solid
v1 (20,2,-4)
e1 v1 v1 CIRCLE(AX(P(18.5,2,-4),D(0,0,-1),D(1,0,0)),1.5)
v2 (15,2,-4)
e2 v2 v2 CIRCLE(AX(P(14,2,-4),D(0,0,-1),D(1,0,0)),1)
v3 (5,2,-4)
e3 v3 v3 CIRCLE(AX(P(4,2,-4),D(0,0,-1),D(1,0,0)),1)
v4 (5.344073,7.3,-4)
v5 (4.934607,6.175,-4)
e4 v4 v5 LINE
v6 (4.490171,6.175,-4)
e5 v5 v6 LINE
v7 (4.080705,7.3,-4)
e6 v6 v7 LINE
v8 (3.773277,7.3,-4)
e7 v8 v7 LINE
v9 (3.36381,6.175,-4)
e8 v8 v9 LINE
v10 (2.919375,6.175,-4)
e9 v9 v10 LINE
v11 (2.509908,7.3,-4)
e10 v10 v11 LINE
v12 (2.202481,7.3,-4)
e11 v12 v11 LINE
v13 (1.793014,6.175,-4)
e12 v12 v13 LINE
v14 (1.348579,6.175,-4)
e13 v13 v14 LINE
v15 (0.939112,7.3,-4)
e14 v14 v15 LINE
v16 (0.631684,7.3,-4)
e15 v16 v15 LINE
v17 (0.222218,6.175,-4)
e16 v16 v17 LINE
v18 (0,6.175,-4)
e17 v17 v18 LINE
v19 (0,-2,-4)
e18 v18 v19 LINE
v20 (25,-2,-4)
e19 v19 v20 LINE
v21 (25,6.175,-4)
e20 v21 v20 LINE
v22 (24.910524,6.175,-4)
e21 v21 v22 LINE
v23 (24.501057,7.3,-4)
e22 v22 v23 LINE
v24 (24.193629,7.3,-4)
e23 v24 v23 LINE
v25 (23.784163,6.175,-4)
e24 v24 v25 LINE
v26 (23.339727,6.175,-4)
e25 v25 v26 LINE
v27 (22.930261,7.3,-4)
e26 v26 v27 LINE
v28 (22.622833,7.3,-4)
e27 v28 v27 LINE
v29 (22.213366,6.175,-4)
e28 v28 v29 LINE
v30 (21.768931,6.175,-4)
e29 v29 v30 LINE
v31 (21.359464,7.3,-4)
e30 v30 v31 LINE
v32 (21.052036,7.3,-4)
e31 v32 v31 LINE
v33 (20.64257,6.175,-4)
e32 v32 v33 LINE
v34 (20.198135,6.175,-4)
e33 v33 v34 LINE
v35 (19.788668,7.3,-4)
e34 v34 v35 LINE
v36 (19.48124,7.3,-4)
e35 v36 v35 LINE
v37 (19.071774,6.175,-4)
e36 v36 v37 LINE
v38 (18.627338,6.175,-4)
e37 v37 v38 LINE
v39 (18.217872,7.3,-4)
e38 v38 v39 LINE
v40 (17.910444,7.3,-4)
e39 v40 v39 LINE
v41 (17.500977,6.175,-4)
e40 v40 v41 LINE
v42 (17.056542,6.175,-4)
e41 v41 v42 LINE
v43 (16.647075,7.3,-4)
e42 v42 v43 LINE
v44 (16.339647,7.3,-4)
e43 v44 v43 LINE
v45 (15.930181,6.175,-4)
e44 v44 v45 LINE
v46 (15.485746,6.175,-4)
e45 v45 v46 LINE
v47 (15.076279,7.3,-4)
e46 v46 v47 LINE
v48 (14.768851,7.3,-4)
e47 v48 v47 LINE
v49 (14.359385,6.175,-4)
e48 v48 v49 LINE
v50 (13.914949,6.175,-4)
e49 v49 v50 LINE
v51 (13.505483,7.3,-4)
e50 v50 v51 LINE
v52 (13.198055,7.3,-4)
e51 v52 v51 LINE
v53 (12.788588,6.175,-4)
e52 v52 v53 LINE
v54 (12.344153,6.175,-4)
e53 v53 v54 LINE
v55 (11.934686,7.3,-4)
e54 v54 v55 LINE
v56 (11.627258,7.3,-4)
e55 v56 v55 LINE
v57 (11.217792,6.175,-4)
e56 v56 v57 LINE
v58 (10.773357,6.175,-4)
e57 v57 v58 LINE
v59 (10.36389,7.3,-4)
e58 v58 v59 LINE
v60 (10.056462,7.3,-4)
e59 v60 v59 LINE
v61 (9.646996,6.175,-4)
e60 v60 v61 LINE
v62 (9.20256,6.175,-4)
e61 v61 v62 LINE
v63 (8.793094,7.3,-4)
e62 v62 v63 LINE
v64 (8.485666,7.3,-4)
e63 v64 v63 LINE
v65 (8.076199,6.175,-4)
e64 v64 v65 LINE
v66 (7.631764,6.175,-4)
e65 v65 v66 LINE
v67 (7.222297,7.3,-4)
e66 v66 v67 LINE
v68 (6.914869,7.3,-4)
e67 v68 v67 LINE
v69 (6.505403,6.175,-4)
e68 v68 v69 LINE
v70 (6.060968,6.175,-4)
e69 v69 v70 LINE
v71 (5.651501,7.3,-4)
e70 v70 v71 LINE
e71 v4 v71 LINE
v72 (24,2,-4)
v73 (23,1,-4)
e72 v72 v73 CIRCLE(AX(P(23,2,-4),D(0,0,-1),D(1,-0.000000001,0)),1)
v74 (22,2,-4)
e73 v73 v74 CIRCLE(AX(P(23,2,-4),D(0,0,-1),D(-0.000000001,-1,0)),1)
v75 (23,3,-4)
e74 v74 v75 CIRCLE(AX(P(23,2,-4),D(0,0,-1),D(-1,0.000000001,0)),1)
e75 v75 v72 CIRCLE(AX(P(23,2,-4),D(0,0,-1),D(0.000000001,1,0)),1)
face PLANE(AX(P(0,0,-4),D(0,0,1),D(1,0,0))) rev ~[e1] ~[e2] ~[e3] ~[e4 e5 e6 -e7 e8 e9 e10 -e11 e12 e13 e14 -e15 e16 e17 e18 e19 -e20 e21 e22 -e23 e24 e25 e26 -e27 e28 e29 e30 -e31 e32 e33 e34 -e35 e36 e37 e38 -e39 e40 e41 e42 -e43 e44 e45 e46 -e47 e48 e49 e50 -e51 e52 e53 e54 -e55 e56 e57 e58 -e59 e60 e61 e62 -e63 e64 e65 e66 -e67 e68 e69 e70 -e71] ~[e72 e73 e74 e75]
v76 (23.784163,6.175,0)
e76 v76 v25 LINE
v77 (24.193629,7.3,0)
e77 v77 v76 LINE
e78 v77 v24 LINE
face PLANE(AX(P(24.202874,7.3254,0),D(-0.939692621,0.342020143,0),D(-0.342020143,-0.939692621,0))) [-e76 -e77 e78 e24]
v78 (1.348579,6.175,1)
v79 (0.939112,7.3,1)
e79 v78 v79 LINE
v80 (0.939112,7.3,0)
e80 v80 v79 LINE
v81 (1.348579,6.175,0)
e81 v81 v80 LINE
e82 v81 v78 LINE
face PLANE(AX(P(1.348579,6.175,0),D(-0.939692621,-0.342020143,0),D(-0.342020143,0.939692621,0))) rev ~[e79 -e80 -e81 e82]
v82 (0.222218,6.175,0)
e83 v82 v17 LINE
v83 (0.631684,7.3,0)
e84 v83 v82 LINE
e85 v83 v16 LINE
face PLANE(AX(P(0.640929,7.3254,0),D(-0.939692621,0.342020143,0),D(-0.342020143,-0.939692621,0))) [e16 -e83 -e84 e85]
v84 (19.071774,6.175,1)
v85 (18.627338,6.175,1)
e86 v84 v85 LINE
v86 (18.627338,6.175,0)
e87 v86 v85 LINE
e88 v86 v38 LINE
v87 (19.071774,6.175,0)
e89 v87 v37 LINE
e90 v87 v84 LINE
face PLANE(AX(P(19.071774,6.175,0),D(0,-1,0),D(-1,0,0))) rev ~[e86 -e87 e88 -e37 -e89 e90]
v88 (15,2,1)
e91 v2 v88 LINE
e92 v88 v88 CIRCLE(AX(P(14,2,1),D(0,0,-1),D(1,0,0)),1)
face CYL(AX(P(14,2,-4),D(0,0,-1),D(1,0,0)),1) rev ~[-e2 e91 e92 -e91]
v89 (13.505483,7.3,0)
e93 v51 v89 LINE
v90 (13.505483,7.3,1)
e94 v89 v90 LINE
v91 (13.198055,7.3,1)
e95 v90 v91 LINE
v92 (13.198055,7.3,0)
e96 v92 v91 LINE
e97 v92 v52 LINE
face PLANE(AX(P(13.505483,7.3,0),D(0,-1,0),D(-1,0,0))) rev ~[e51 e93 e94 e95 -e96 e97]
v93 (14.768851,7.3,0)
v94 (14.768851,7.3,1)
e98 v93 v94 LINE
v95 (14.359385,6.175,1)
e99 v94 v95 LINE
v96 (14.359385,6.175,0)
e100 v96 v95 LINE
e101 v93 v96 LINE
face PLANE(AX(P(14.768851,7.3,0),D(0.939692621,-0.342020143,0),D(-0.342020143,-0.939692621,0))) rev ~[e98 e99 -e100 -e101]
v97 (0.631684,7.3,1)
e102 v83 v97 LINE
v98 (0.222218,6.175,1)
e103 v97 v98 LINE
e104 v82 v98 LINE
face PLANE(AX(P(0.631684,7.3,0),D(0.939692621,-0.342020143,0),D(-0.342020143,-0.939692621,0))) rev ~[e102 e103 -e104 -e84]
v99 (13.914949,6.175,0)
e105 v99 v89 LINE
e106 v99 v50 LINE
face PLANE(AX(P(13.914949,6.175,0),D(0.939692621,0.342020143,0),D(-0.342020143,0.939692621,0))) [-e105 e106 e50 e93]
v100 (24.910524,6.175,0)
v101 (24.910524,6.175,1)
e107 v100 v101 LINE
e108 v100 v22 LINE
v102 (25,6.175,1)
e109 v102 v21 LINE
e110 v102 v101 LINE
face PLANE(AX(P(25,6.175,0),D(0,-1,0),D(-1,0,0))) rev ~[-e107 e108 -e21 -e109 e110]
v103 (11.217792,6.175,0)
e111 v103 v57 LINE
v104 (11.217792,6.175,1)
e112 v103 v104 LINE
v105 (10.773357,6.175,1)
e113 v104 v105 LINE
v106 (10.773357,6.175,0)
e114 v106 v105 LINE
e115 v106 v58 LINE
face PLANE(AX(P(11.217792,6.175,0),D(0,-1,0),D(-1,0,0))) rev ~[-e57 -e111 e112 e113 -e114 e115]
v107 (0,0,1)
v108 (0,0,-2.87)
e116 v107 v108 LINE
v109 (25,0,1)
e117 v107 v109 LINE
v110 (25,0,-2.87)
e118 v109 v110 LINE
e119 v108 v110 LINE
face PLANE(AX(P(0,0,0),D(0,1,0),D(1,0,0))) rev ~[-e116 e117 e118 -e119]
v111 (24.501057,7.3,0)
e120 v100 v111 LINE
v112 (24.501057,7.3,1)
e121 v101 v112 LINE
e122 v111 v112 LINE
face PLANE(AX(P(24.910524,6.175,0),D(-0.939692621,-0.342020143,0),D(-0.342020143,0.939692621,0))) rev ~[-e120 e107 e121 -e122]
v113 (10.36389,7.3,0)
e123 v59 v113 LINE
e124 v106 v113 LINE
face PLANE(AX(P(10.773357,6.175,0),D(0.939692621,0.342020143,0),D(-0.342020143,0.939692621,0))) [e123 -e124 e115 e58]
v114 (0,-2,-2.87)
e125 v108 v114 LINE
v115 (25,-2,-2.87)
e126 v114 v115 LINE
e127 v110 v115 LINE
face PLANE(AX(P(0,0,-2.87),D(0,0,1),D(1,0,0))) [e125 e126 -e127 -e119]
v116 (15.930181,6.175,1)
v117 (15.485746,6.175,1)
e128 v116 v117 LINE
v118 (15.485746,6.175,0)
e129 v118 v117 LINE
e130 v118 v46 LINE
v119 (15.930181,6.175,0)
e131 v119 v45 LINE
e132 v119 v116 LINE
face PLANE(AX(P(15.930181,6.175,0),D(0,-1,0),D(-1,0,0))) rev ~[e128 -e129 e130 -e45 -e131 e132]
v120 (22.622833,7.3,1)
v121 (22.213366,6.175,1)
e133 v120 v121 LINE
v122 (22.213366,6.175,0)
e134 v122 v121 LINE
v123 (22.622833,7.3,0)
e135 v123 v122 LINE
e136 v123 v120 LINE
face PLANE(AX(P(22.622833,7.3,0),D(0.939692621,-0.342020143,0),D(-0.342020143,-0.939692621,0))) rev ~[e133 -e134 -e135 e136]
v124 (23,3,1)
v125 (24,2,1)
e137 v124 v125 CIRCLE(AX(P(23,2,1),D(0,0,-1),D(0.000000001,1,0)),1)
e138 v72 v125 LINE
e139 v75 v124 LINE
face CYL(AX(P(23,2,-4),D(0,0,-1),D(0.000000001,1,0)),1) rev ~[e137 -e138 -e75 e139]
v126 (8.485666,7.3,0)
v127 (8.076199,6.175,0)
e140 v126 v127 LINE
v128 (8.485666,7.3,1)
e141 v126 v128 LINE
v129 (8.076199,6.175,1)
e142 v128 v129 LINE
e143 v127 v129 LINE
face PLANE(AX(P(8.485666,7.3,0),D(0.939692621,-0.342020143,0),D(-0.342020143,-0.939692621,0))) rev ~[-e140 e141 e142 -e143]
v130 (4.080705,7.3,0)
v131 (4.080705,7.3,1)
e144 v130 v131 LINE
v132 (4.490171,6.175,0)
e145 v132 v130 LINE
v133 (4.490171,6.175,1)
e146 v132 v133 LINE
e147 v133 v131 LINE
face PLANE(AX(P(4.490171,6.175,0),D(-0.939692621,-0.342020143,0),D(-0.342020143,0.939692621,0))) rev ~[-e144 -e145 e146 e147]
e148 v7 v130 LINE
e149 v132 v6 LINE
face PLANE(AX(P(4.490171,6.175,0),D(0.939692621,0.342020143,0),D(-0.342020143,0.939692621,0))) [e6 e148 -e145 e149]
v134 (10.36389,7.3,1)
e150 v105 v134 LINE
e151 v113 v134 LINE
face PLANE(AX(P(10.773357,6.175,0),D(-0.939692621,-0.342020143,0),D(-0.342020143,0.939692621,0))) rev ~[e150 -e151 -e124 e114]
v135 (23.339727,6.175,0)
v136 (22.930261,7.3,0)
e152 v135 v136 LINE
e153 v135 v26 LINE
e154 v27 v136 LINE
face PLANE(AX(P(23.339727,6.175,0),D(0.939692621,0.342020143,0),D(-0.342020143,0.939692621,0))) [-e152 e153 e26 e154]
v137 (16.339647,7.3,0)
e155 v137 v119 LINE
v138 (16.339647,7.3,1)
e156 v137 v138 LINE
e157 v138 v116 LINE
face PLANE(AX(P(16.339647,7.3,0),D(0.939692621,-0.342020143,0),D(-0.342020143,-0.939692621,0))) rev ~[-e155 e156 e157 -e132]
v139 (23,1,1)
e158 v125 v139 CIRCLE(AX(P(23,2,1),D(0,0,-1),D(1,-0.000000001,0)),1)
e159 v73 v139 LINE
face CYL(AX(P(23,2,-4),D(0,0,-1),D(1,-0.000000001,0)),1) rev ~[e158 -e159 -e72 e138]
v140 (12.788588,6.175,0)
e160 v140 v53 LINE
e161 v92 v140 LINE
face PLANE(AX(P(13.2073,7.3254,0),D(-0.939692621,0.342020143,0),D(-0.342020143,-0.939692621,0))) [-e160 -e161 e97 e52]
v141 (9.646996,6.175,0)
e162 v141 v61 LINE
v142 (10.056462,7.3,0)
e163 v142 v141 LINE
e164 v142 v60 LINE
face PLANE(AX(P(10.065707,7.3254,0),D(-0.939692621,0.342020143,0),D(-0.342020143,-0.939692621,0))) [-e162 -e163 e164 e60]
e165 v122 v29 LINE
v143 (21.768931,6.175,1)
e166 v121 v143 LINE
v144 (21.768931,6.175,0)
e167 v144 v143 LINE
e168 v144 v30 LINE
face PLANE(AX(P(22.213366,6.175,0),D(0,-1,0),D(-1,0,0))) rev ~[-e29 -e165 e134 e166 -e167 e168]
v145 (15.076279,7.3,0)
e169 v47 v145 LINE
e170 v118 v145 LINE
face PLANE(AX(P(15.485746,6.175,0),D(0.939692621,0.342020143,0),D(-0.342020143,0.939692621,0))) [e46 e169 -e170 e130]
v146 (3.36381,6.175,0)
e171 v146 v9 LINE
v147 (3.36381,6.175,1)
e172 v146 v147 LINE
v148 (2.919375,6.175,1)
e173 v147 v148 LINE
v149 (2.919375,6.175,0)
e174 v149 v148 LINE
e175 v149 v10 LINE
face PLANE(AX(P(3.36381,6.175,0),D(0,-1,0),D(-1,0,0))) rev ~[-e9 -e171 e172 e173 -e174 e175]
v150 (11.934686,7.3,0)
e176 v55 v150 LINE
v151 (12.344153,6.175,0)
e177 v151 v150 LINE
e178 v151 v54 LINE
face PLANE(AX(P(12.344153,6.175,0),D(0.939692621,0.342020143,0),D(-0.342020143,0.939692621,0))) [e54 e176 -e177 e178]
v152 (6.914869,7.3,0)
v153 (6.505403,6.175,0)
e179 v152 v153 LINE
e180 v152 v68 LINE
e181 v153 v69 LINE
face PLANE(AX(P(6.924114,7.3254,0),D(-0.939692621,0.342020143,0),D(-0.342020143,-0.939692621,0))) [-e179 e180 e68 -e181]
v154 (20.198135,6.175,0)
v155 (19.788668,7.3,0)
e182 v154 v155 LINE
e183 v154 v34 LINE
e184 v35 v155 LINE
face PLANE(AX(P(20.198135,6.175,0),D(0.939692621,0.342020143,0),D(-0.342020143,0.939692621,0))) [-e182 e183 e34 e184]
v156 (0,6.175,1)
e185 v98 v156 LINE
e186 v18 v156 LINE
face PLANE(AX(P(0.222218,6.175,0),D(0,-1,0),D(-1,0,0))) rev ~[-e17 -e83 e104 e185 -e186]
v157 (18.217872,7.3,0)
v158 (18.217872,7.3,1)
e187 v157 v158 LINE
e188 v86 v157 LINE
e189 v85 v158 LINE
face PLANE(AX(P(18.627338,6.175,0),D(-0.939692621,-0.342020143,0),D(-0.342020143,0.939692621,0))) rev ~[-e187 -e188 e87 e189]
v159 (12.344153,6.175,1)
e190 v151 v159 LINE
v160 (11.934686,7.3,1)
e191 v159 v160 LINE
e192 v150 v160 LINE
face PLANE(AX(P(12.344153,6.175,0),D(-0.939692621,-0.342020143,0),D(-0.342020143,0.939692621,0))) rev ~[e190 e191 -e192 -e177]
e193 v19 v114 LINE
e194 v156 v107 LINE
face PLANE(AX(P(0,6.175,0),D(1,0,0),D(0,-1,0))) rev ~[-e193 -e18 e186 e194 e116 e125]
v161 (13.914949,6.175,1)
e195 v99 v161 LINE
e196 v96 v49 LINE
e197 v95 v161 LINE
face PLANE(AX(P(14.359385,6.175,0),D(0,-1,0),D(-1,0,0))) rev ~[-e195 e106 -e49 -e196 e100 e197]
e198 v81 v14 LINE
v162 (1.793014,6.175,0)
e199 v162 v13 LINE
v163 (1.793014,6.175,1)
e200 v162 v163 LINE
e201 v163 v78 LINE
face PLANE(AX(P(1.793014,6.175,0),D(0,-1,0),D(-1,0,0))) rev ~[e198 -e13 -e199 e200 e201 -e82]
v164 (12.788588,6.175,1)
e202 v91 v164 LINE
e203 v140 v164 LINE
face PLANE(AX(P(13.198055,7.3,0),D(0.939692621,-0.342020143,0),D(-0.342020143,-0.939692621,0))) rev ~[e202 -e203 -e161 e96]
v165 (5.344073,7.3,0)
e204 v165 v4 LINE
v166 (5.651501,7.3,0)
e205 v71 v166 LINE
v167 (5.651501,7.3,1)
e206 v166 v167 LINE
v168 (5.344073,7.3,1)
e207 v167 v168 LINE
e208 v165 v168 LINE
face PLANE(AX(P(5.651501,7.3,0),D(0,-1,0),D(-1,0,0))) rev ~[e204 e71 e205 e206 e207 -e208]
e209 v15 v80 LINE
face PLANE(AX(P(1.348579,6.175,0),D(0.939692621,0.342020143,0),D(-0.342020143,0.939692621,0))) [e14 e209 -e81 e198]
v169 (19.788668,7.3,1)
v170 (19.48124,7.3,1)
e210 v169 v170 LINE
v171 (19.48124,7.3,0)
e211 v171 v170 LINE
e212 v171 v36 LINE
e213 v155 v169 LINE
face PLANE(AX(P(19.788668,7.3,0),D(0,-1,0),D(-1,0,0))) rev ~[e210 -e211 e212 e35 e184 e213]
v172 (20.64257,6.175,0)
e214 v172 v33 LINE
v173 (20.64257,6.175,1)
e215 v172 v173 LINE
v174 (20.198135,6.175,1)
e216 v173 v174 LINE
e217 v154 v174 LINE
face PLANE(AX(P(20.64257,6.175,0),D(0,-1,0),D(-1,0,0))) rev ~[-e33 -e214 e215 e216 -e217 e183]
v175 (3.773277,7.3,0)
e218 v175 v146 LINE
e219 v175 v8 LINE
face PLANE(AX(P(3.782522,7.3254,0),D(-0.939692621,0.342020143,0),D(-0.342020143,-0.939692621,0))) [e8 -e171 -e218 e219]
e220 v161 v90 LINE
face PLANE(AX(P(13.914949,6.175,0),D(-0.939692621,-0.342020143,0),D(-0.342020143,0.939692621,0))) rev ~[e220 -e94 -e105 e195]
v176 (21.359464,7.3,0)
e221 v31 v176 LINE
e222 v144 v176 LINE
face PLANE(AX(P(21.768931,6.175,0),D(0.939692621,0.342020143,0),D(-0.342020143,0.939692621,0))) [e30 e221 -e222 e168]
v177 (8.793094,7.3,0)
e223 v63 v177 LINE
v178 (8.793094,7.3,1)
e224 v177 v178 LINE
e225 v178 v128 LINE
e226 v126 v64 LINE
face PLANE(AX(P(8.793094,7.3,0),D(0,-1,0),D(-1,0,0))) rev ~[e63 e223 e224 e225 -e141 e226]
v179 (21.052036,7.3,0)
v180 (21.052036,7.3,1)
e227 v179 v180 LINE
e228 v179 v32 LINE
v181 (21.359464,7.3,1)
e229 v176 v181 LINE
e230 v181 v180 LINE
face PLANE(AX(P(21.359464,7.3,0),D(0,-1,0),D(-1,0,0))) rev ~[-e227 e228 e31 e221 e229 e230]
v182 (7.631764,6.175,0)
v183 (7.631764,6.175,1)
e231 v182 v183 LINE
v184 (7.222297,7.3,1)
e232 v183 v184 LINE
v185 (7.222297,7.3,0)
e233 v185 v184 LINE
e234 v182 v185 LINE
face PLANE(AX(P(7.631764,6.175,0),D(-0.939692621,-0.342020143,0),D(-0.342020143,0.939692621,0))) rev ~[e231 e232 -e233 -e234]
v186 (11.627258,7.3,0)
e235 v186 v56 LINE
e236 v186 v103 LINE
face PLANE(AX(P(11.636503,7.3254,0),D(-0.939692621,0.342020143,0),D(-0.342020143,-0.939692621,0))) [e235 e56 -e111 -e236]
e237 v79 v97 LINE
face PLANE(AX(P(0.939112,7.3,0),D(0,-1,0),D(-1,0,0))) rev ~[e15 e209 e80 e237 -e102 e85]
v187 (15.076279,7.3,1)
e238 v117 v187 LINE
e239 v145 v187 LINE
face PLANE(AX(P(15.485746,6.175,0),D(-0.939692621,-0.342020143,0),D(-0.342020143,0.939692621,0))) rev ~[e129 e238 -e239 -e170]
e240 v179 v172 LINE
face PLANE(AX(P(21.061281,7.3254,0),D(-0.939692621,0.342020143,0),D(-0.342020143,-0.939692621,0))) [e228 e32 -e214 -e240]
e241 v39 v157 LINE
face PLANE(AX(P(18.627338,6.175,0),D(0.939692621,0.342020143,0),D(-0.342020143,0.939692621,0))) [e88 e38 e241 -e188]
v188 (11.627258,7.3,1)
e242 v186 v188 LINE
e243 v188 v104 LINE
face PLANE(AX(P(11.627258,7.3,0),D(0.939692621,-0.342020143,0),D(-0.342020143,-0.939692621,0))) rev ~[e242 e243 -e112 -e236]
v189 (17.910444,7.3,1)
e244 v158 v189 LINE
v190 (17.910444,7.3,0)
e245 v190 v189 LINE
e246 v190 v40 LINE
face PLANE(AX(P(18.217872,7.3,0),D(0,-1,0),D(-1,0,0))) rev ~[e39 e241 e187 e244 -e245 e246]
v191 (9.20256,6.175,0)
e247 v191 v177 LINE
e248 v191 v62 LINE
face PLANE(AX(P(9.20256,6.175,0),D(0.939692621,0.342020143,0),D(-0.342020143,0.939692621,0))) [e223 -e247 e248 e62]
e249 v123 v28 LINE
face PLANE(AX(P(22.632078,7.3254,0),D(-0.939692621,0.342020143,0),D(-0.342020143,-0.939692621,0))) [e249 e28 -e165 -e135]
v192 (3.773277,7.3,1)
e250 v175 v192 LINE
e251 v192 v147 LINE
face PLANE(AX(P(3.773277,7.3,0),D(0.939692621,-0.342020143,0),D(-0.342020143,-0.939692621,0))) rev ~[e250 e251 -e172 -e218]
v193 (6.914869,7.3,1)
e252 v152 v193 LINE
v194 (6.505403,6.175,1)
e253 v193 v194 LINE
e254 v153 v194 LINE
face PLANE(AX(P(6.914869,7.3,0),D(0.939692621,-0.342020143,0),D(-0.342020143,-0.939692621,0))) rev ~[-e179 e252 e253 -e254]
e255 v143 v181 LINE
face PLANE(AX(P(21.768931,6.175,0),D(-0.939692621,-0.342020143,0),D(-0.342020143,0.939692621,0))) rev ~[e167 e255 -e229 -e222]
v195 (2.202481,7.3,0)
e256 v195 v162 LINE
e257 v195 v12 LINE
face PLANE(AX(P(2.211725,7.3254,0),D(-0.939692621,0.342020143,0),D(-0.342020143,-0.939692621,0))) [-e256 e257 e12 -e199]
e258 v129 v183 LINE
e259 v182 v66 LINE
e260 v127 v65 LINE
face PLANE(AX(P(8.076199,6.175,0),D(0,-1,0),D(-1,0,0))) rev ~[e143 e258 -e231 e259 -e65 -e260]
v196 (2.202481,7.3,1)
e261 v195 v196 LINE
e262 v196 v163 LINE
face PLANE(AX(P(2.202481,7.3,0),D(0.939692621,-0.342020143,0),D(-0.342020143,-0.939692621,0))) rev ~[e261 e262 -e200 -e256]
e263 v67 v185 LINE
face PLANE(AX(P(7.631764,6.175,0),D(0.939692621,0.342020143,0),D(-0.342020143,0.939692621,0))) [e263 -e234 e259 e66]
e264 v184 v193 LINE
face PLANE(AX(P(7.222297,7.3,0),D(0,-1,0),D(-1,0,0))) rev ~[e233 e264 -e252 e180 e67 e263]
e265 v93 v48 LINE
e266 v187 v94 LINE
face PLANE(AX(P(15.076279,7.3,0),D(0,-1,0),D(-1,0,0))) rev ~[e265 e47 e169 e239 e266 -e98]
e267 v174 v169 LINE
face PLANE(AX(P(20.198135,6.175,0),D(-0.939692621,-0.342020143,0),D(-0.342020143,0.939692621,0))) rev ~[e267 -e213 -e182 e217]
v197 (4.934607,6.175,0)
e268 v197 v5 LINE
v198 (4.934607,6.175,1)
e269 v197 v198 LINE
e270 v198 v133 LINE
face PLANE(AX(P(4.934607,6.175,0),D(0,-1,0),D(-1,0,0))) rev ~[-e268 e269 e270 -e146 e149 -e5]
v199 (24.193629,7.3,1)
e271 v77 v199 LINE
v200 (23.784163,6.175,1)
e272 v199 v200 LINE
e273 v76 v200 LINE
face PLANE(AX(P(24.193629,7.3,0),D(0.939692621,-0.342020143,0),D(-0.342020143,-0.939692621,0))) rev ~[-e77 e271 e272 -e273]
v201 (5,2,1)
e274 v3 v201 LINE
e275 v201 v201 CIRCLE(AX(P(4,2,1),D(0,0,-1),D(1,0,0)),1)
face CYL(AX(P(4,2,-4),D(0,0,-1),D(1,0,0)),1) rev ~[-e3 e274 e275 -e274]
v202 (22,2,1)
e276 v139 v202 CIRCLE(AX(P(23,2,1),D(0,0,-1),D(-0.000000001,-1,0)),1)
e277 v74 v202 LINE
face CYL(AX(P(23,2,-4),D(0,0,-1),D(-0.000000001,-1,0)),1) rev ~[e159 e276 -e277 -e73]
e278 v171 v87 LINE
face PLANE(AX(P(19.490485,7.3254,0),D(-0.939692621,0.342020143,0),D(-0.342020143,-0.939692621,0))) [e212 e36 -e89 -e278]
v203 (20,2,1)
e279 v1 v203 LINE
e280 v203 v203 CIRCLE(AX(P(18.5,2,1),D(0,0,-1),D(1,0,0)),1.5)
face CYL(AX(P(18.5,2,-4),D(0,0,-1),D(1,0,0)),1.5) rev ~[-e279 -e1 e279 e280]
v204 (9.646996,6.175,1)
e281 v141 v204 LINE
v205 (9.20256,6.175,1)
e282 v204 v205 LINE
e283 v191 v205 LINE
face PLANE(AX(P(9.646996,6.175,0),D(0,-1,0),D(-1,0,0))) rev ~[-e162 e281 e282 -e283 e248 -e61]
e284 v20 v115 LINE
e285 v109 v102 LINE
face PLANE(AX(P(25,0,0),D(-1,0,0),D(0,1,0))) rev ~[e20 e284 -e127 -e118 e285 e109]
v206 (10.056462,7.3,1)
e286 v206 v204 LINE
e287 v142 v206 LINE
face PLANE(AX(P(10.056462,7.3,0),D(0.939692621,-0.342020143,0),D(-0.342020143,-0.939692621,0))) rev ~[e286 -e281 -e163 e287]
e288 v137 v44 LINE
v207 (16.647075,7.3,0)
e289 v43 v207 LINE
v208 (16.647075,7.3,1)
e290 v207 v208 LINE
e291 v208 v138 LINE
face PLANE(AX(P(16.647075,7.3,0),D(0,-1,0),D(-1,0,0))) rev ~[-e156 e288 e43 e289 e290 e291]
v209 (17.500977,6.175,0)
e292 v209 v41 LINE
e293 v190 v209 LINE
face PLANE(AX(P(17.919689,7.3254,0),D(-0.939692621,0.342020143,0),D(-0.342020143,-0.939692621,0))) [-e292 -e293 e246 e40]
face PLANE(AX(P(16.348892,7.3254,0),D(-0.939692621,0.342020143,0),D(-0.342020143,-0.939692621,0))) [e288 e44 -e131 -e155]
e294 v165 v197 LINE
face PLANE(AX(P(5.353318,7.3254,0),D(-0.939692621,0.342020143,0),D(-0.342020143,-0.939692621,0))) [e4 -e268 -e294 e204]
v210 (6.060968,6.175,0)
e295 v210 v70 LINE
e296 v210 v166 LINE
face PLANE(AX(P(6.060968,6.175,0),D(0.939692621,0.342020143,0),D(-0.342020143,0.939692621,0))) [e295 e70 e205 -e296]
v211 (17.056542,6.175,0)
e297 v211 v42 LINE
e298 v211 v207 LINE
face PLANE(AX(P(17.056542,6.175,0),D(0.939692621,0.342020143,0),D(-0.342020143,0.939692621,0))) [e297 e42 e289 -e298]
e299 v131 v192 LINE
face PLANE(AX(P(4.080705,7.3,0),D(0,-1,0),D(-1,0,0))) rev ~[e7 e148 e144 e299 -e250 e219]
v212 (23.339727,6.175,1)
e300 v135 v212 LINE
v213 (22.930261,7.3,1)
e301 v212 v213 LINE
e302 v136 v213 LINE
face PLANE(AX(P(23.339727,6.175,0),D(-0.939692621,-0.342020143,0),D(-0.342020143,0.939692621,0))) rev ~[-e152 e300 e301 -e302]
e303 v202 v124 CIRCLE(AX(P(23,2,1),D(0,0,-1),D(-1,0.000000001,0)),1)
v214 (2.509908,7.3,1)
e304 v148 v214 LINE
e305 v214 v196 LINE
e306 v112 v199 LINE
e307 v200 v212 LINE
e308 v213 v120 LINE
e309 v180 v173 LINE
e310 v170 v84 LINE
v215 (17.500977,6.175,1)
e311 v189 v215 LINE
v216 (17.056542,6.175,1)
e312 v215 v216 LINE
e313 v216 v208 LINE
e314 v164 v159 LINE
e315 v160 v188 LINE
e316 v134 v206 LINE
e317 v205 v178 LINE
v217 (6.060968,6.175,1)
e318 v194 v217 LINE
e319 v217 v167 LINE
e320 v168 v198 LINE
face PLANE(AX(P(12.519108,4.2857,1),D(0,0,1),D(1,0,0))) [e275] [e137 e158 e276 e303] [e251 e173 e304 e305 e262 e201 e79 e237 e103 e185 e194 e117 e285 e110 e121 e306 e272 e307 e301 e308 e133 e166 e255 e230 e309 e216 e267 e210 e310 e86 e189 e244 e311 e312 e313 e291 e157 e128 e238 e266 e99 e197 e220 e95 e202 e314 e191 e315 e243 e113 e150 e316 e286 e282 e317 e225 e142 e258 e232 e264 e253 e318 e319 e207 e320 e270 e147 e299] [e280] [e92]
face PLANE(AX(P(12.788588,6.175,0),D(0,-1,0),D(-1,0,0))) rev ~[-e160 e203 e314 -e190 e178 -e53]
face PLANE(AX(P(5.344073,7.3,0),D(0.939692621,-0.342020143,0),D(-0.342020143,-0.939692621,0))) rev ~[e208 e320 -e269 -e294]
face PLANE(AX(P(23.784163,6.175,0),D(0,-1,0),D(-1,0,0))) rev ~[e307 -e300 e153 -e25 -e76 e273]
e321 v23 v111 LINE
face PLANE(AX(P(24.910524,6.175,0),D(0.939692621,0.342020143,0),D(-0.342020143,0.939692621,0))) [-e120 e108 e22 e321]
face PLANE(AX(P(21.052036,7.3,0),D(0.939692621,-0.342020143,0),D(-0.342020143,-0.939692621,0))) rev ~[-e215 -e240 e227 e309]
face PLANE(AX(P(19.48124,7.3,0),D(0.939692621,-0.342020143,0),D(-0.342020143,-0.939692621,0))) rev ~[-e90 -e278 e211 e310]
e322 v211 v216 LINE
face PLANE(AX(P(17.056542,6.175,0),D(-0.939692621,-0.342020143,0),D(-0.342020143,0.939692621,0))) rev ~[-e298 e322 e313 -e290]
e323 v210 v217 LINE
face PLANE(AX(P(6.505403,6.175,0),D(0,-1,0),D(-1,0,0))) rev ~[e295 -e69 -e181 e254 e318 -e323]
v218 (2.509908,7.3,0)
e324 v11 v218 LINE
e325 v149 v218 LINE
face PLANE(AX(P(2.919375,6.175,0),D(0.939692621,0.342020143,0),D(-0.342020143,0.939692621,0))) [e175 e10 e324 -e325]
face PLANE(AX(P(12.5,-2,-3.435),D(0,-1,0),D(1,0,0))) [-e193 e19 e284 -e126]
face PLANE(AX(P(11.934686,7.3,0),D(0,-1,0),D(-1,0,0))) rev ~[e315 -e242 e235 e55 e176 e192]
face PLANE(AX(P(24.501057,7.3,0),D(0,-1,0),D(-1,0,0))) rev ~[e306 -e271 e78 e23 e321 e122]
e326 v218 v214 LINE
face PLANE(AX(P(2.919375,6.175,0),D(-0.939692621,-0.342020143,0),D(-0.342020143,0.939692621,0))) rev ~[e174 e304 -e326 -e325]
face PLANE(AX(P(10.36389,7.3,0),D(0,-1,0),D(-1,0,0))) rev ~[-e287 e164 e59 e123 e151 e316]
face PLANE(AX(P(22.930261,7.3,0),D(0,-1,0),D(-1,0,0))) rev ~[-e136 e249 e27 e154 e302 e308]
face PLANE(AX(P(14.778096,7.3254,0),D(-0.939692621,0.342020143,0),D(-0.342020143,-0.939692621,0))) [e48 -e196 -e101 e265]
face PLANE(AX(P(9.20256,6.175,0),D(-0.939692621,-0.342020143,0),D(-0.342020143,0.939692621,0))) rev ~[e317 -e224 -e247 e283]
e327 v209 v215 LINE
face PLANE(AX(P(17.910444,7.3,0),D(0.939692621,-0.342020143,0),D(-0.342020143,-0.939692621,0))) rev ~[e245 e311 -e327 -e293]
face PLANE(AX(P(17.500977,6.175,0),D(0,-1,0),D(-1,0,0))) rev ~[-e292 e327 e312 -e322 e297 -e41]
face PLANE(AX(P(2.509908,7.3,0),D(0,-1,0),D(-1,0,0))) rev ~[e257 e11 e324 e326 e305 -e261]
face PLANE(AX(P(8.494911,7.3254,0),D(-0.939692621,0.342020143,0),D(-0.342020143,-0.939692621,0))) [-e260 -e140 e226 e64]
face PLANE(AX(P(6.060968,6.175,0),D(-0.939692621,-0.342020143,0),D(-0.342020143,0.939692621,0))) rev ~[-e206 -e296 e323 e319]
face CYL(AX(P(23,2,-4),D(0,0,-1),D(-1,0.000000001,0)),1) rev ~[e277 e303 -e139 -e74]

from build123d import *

# Parameters (mm, degrees)
BLANKSKE_W          = 25
BLANKSKE_H          = 7.3
BLANK_DEPTH         = 4
TOOTHCUTSIM_DEPTH   = 27.349383294
TEETHCUTS_COUNT     = 17
TEETHCUTS_PITCH     = 1.570796325
SKETCH4_W           = 25
SKETCH4_H           = 1.13
BOSS_EXTRUDE1_DEPTH = 2
BOSS_EXTRUDE2_DEPTH = 1
CUT_EXTRUDE1_DEPTH  = 27.519615382


with BuildPart() as part:
    # BlankSke → Blank (new body)
    with BuildSketch(Plane.XY):
        with Locations((12.5, 3.65)):
            Rectangle(BLANKSKE_W, BLANKSKE_H)
    extrude(amount=-BLANK_DEPTH)

    # TooCutSkeSim → ToothCutSim (cut, through all)
    with BuildSketch(Plane.XY):
        Polygon((0.222217685, 6.175), (-0.222217685, 6.175), (-0.640929042, 7.3254), (0.640929042, 7.3254), align=None)
    toothcutsim = extrude(amount=-TOOTHCUTSIM_DEPTH, mode=Mode.SUBTRACT)

    # TeethCuts: ToothCutSim ×17
    with Locations(*[(i * TEETHCUTS_PITCH, 0, 0) for i in range(1, TEETHCUTS_COUNT)]):
        add(toothcutsim, mode=Mode.SUBTRACT)

    # Sketch4 → Boss-Extrude1 (add)
    with BuildSketch(Plane.XZ):
        with Locations((12.5, -3.435)):
            Rectangle(SKETCH4_W, SKETCH4_H)
    extrude(amount=BOSS_EXTRUDE1_DEPTH)

    # Sketch7 → Boss-Extrude2 (add)
    with BuildSketch(Plane.XY):
        Polygon((25, 6.175), (24.910523515, 6.175), (24.501057002, 7.3), (24.193629073, 7.3), (23.78416256, 6.175), (23.33972719, 6.175), (22.930260677, 7.3), (22.622832748, 7.3), (22.213366235, 6.175), (21.768930865, 6.175), (21.359464352, 7.3), (21.052036423, 7.3), (20.64256991, 6.175), (20.19813454, 6.175), (19.788668027, 7.3), (19.481240098, 7.3), (19.071773585, 6.175), (18.627338215, 6.175), (18.217871702, 7.3), (17.910443773, 7.3), (17.50097726, 6.175), (17.05654189, 6.175), (16.647075377, 7.3), (16.339647448, 7.3), (15.930180935, 6.175), (15.485745565, 6.175), (15.076279052, 7.3), (14.768851123, 7.3), (14.35938461, 6.175), (13.91494924, 6.175), (13.505482727, 7.3), (13.198054798, 7.3), (12.788588285, 6.175), (12.344152915, 6.175), (11.934686402, 7.3), (11.627258473, 7.3), (11.21779196, 6.175), (10.77335659, 6.175), (10.363890077, 7.3), (10.056462148, 7.3), (9.646995635, 6.175), (9.202560265, 6.175), (8.793093752, 7.3), (8.485665823, 7.3), (8.07619931, 6.175), (7.63176394, 6.175), (7.222297427, 7.3), (6.914869498, 7.3), (6.505402985, 6.175), (6.060967615, 6.175), (5.651501102, 7.3), (5.344073173, 7.3), (4.93460666, 6.175), (4.49017129, 6.175), (4.080704777, 7.3), (3.773276848, 7.3), (3.363810335, 6.175), (2.919374965, 6.175), (2.509908452, 7.3), (2.202480523, 7.3), (1.79301401, 6.175), (1.34857864, 6.175), (0.939112127, 7.3), (0.631684198, 7.3), (0.222217685, 6.175), (0, 6.175), (0, 0), (25, 0), align=None)
    extrude(amount=BOSS_EXTRUDE2_DEPTH)

    # Sketch1 → Cut-Extrude1 (cut, through all)
    with BuildSketch(Plane(origin=(0, 0, -4), x_dir=(-1, 0, 0), z_dir=(0, 0, -1))):
        with BuildLine():
            Line((-23, 1), (-23, 2))
            Line((-23, 2), (-24, 2))
            ThreePointArc((-24, 2), (-23.707106781, 1.292893219), (-23, 1))
        make_face()
        with BuildLine():
            Line((-24, 2), (-23, 2))
            Line((-23, 2), (-23, 3))
            ThreePointArc((-23, 3), (-23.707106781, 2.707106781), (-24, 2))
        make_face()
        with BuildLine():
            Line((-23, 3), (-23, 2))
            Line((-23, 2), (-23, 1))
            ThreePointArc((-23, 1), (-22.292893219, 1.292893219), (-22, 2))
            ThreePointArc((-22, 2), (-22.292893219, 2.707106781), (-23, 3))
        make_face()
        with BuildLine():
            ThreePointArc((-17, 2), (-18.5, 3.5), (-20, 2))
            Line((-20, 2), (-17, 2))
        make_face()
        with BuildLine():
            Line((-17, 2), (-20, 2))
            ThreePointArc((-20, 2), (-18.5, 0.5), (-17, 2))
        make_face()
        with BuildLine():
            ThreePointArc((-13, 2), (-14, 3), (-15, 2))
            Line((-15, 2), (-13, 2))
        make_face()
        with BuildLine():
            Line((-13, 2), (-15, 2))
            ThreePointArc((-15, 2), (-14, 1), (-13, 2))
        make_face()
        with BuildLine():
            ThreePointArc((-3, 2), (-4, 3), (-5, 2))
            Line((-5, 2), (-3, 2))
        make_face()
        with BuildLine():
            Line((-3, 2), (-5, 2))
            ThreePointArc((-5, 2), (-4, 1), (-3, 2))
        make_face()
    extrude(amount=-CUT_EXTRUDE1_DEPTH, mode=Mode.SUBTRACT)


solid = part.part
